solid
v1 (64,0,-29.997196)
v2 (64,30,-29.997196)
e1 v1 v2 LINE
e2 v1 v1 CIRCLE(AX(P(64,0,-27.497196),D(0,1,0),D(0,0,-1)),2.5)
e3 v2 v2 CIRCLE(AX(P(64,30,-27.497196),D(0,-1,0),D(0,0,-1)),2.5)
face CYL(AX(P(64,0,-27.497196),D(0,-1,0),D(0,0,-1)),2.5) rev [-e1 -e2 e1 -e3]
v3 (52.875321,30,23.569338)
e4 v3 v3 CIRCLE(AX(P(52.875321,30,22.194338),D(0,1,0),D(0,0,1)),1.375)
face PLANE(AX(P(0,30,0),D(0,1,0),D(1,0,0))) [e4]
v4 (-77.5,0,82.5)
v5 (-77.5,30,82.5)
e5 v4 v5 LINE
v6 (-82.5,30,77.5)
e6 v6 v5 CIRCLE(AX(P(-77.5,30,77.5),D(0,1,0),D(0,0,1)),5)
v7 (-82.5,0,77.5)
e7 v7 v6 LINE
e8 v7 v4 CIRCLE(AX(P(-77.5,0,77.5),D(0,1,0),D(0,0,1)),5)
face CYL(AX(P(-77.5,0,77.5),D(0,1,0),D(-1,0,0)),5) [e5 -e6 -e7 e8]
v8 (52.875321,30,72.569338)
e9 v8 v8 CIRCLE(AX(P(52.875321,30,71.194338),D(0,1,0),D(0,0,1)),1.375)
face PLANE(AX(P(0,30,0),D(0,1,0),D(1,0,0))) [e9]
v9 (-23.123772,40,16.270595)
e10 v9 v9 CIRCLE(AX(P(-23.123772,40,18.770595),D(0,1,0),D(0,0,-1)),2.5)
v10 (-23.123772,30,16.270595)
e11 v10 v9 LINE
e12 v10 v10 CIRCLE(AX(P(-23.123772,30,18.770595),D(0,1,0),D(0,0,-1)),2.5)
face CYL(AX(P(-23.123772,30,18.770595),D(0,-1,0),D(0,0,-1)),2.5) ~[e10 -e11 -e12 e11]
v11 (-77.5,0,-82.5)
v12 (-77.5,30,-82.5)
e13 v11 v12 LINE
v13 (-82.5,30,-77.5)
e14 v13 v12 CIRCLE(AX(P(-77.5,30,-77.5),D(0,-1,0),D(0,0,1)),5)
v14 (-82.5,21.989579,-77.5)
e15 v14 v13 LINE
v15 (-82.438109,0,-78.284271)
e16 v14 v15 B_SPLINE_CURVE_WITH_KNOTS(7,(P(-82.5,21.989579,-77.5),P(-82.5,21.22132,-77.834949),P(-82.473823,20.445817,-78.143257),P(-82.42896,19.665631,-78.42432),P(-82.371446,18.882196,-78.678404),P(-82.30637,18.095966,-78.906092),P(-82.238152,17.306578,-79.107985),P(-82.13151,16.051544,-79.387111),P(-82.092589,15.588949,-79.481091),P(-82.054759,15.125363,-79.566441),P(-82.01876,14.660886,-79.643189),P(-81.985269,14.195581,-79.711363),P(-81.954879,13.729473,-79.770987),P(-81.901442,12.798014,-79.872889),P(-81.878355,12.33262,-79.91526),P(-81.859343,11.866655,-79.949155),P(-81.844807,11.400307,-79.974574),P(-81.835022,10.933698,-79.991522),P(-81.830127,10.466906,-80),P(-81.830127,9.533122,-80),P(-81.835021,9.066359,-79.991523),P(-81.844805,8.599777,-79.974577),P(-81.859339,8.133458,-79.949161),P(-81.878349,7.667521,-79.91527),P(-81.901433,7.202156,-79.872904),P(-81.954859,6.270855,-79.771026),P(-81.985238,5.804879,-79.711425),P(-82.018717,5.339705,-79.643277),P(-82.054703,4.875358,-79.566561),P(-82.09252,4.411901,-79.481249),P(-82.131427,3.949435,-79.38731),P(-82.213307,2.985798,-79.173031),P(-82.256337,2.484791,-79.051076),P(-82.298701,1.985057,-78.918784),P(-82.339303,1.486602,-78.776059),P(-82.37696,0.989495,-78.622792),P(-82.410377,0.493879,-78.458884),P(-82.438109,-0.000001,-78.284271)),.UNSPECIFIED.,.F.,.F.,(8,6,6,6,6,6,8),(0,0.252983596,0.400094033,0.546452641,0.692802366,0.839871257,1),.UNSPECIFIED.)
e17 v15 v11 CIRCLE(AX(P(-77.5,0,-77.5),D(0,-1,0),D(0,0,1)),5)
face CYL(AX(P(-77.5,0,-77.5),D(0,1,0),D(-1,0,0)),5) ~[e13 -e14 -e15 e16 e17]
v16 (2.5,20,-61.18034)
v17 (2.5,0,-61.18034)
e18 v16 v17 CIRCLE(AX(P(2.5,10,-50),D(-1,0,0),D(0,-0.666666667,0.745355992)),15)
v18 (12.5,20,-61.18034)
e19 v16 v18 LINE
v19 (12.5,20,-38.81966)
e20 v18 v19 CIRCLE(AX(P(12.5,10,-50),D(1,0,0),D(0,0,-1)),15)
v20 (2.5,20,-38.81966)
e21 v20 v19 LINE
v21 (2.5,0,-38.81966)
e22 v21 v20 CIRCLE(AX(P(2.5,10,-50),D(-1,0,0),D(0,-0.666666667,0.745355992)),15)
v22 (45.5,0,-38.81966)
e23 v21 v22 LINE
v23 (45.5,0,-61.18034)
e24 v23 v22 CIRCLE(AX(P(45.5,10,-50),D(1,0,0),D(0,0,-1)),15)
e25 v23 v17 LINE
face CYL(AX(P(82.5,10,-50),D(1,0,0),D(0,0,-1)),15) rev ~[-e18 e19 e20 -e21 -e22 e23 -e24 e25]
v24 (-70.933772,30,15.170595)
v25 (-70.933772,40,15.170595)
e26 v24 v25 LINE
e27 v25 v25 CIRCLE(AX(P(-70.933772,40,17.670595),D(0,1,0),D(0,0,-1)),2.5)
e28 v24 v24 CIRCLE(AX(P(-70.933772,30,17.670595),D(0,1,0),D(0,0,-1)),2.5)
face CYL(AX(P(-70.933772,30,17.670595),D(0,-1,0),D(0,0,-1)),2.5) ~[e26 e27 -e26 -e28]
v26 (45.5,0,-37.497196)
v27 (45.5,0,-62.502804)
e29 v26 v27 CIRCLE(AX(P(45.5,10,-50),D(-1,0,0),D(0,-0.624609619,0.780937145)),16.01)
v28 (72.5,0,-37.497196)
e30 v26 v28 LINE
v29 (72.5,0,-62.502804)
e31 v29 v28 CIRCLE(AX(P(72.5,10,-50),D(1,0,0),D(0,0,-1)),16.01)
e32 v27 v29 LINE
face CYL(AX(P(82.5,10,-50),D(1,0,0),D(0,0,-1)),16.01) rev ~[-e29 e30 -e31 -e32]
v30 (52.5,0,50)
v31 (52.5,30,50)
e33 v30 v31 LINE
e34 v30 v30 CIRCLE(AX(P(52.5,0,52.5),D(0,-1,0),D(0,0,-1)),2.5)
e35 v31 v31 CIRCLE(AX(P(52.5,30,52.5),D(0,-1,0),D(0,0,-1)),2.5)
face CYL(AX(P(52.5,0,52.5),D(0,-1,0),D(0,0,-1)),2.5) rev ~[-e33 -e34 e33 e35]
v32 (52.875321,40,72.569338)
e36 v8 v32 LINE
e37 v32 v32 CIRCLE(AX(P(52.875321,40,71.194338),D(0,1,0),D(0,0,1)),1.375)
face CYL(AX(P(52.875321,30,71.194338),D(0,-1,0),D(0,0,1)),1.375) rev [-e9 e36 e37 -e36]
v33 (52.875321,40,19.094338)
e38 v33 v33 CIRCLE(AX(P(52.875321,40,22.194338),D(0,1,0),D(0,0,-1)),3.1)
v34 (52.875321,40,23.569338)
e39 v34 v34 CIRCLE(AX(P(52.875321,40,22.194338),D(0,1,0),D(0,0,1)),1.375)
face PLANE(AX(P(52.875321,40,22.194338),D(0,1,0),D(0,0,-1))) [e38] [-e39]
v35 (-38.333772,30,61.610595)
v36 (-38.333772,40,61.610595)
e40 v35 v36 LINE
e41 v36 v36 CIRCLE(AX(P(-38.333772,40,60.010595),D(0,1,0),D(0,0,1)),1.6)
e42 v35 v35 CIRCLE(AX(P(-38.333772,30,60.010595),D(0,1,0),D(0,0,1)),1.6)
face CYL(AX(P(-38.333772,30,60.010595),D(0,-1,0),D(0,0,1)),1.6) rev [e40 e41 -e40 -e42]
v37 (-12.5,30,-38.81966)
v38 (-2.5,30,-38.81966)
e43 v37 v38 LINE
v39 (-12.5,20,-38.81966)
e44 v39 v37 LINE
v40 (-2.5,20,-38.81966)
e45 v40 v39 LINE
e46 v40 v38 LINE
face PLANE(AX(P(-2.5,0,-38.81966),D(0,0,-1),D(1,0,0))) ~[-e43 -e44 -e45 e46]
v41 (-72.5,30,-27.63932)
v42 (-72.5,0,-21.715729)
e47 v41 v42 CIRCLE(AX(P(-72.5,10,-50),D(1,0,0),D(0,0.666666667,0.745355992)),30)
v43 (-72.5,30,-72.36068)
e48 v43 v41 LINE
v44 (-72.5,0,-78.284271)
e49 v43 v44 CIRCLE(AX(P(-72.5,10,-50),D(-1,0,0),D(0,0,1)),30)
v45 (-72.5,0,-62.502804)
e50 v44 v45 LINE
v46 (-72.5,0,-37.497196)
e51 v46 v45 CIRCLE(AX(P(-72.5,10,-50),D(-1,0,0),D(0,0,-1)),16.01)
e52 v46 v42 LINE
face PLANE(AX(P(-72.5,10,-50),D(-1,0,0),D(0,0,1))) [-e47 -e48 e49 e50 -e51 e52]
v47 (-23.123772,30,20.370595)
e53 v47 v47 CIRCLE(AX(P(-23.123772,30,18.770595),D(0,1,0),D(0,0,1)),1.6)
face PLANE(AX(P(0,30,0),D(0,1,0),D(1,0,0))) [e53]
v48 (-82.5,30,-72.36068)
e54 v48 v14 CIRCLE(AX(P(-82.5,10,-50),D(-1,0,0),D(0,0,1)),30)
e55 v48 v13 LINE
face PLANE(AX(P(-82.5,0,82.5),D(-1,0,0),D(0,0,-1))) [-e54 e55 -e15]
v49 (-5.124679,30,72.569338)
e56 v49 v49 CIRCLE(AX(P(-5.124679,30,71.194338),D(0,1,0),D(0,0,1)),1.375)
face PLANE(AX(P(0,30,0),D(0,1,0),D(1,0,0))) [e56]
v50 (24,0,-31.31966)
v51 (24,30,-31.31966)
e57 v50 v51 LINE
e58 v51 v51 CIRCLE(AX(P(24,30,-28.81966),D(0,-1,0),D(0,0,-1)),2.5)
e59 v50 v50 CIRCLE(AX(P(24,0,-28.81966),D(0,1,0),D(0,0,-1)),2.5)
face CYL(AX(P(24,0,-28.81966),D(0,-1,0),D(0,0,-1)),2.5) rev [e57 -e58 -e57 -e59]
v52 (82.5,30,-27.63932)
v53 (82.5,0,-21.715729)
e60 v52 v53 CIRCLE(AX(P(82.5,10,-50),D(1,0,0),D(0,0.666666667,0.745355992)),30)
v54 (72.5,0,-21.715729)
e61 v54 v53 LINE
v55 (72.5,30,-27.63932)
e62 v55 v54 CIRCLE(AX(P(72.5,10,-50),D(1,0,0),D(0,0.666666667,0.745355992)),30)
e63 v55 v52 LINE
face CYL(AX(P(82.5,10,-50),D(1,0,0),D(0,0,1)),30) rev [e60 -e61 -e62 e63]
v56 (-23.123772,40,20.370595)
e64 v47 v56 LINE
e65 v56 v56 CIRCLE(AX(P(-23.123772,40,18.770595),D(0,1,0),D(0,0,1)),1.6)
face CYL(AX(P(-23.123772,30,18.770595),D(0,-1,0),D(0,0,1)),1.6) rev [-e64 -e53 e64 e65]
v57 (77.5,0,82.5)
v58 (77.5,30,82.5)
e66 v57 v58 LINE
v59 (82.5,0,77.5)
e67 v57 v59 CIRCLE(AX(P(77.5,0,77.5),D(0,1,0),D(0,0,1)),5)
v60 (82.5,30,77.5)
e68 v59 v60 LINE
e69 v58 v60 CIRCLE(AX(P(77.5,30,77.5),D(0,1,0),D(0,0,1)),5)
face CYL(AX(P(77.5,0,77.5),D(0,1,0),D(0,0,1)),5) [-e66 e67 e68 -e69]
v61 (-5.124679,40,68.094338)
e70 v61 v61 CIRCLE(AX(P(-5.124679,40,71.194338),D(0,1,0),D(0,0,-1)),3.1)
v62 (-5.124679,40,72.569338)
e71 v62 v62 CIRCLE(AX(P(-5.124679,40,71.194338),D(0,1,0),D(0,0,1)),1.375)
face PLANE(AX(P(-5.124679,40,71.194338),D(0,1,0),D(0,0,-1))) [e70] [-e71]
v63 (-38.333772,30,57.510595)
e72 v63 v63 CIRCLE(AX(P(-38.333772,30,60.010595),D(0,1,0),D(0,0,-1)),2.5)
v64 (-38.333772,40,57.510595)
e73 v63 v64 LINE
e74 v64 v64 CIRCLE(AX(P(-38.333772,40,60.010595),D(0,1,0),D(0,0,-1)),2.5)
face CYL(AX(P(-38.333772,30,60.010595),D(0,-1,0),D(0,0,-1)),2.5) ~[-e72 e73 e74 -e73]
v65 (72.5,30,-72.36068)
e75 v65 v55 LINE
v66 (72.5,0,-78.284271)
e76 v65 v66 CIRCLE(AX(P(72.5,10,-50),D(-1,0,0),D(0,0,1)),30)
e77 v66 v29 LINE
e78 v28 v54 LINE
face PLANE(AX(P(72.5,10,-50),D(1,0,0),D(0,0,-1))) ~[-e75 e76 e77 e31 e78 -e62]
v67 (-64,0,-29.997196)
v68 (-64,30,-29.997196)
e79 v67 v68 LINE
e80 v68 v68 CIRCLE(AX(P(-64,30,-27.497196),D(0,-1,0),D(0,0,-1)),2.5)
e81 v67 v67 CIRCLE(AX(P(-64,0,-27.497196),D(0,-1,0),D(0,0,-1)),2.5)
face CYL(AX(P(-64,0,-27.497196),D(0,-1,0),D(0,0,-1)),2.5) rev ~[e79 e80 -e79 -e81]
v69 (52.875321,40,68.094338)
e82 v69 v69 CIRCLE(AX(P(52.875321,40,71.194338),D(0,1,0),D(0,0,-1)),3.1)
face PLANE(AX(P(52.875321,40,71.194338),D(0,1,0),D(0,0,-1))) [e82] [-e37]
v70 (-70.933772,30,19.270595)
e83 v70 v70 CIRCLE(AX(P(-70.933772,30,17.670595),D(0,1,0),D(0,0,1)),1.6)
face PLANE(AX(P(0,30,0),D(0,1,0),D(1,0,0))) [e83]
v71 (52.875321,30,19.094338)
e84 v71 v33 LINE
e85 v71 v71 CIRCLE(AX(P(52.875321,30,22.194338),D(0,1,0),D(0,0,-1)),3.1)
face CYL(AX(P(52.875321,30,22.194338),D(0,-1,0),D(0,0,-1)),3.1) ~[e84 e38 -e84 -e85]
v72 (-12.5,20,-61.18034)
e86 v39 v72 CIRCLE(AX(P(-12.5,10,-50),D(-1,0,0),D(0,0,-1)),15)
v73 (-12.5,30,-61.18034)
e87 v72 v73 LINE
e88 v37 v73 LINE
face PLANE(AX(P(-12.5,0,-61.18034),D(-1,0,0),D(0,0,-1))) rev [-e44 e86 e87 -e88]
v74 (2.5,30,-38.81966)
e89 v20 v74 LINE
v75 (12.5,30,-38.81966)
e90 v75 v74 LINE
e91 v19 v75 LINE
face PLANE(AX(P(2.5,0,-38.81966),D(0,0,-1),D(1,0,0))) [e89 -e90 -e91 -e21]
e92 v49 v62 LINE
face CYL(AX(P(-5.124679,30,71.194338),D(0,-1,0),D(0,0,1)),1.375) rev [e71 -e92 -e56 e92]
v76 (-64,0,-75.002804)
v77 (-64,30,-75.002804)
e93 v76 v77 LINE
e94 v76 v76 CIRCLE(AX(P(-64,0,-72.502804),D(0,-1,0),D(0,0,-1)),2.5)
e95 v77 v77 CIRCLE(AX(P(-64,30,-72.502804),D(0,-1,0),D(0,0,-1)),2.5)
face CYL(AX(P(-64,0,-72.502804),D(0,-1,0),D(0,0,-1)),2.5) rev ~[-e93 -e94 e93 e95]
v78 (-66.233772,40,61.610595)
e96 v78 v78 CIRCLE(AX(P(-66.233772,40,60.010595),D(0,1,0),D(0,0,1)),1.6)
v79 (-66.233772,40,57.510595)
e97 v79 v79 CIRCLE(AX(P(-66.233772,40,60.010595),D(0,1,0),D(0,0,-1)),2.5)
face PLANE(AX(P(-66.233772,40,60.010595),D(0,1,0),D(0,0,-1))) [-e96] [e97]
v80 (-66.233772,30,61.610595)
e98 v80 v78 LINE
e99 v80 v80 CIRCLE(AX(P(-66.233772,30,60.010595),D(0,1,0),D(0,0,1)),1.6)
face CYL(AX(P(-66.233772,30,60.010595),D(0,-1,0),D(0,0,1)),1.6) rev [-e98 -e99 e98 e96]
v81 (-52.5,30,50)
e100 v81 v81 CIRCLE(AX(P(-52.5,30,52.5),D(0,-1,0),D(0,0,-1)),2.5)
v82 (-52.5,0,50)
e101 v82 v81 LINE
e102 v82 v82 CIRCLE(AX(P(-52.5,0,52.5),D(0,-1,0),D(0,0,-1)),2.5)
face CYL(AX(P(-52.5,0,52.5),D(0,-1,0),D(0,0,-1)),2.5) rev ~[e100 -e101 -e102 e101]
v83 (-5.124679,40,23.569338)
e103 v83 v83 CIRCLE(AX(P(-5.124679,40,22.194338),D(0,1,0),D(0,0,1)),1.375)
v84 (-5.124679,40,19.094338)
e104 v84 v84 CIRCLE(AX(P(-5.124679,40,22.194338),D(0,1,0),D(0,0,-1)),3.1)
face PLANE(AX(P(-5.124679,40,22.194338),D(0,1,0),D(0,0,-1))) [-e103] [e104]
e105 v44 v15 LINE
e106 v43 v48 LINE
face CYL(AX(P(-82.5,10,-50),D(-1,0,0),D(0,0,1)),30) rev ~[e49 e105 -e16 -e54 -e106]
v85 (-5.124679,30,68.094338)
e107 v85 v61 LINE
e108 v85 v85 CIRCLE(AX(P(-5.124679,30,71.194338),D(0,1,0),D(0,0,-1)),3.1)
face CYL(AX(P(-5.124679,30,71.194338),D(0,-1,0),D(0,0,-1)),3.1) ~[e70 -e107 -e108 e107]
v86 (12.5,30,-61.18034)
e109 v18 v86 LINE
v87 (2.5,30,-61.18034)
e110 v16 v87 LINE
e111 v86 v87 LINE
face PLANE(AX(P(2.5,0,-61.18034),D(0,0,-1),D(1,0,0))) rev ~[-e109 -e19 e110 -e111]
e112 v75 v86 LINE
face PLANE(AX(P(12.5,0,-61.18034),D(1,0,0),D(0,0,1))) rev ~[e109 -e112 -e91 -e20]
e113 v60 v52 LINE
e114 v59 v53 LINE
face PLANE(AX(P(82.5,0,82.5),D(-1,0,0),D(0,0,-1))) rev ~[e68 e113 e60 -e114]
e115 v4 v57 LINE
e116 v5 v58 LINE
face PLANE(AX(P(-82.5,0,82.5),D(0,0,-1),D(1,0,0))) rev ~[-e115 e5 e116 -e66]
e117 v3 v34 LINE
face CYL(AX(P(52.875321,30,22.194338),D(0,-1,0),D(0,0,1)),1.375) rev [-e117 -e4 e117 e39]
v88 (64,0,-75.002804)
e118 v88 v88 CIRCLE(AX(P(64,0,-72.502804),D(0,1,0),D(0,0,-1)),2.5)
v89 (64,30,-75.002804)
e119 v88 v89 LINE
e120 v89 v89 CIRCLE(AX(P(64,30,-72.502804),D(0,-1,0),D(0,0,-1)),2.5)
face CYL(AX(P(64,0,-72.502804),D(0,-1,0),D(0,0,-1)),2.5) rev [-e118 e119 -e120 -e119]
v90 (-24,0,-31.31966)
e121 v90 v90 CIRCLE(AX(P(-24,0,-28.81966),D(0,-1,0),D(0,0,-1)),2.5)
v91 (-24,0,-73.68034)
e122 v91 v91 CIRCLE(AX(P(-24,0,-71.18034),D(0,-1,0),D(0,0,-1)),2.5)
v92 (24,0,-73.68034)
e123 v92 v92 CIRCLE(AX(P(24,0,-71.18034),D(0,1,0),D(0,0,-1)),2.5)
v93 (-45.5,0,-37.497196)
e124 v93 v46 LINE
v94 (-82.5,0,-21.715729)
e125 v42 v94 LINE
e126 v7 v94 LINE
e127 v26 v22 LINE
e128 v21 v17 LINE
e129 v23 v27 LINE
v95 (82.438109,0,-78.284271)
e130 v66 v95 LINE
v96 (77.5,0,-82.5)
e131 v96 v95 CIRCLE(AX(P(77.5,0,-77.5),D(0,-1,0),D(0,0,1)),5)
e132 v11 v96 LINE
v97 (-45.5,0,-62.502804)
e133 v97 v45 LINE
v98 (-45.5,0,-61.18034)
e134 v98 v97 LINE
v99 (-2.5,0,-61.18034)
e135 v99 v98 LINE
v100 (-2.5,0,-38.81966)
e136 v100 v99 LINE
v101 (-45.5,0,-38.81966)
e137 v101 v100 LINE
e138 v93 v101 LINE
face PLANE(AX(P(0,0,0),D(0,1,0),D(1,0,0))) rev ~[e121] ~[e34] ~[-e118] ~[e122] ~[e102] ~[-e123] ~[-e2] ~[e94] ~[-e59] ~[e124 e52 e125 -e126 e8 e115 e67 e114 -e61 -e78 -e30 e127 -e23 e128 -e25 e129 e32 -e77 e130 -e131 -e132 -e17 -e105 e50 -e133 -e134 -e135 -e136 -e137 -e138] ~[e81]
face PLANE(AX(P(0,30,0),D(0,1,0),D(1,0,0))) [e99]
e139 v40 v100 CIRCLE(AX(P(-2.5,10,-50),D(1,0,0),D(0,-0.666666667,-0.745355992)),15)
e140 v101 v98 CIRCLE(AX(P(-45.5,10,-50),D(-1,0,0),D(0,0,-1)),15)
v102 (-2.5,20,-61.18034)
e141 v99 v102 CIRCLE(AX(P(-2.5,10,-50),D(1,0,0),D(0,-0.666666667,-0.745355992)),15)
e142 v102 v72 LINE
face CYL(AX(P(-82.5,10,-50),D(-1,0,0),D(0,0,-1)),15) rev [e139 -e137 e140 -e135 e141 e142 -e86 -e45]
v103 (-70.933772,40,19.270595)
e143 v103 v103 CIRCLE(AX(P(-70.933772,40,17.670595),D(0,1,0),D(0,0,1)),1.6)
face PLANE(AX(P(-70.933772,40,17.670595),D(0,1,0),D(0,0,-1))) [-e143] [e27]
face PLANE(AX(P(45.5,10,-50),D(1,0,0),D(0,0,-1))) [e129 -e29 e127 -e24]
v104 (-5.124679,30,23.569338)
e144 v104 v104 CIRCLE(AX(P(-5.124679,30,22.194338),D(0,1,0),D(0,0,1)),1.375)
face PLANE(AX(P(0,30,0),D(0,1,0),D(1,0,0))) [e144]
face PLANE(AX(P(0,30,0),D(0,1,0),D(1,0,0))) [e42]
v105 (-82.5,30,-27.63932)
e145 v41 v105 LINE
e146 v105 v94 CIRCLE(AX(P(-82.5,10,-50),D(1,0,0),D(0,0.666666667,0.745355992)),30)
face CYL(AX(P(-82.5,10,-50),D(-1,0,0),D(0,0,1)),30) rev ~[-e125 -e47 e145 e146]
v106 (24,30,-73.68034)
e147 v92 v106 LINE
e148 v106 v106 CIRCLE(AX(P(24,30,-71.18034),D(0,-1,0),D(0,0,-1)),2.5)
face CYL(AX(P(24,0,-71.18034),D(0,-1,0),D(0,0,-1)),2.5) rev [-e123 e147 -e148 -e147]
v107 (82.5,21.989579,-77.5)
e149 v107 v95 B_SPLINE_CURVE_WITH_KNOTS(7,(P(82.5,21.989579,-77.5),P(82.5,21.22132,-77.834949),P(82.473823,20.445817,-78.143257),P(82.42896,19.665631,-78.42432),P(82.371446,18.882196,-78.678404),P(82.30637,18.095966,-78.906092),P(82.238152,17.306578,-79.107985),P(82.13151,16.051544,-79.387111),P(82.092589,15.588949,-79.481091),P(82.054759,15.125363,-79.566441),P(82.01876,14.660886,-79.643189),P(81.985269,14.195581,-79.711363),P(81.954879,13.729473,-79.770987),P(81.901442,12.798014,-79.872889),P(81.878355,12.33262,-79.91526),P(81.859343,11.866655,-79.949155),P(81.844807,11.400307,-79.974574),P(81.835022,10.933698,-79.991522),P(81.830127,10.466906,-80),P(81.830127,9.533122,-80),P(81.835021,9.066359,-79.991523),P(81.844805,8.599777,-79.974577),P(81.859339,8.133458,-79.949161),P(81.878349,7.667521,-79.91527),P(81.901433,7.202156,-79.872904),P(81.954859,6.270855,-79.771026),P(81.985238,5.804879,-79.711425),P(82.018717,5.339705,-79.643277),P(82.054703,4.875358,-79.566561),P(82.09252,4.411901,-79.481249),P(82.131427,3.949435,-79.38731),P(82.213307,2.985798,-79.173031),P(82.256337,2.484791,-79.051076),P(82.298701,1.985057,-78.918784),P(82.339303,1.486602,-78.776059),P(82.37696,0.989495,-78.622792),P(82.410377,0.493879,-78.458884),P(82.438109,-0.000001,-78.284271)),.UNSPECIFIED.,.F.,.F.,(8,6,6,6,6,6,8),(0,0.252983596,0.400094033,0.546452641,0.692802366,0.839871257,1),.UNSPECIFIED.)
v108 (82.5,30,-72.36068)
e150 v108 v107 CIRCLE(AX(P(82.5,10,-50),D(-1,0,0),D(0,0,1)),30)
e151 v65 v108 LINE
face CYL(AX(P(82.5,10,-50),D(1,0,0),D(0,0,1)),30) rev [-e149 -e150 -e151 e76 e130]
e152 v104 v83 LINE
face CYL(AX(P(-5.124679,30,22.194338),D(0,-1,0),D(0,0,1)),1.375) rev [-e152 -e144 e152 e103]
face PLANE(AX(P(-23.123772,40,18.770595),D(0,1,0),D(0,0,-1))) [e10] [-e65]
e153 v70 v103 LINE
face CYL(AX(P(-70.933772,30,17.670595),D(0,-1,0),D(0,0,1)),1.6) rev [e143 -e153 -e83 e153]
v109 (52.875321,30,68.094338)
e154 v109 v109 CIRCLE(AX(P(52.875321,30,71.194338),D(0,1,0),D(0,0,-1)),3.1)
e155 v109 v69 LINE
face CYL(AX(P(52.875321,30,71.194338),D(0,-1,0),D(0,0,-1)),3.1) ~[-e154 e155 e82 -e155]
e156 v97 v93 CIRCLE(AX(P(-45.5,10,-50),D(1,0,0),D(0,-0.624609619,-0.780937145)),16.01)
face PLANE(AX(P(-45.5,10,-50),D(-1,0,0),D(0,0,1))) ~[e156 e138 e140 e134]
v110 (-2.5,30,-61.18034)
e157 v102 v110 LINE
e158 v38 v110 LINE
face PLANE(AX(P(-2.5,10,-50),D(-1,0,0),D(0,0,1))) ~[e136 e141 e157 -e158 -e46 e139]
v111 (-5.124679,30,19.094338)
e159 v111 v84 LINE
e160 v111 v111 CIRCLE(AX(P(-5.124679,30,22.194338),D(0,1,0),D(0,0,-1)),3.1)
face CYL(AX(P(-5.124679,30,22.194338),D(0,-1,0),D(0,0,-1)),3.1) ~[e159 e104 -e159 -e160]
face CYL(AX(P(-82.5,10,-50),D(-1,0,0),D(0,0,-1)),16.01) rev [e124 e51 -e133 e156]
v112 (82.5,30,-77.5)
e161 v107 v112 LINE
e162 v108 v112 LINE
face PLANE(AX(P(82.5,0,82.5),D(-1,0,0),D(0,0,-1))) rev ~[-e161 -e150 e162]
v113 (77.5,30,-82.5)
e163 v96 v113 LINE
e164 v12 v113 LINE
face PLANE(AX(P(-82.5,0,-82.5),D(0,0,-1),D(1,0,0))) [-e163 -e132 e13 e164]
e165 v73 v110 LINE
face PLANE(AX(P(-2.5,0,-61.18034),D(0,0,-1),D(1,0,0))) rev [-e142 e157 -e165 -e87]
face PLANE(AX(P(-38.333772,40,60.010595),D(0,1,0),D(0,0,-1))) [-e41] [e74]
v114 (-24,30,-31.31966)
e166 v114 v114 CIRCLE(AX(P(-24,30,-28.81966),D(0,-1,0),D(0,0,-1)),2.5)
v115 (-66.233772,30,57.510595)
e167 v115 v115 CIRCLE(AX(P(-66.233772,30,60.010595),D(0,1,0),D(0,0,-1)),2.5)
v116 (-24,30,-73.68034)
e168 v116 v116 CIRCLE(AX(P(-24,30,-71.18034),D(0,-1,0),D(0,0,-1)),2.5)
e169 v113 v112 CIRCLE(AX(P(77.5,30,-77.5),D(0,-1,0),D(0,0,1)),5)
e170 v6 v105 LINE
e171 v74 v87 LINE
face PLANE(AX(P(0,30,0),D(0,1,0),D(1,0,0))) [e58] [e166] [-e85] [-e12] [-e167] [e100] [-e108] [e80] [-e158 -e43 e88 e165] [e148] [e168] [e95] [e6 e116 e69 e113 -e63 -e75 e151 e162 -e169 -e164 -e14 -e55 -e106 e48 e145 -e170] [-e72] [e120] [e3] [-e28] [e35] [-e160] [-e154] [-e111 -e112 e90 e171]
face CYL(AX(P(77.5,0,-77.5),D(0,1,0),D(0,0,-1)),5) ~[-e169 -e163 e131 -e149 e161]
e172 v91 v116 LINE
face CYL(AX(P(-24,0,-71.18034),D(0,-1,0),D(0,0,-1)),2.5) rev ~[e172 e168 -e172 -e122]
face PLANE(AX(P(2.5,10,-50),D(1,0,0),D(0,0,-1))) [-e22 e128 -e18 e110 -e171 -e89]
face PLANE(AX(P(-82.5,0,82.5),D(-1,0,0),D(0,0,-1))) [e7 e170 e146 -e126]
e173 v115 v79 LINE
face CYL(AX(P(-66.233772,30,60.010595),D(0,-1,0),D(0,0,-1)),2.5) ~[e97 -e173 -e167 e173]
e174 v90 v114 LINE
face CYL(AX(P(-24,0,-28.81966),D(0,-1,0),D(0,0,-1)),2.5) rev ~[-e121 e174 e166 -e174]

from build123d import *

# Parameters (mm, degrees)
ESQUISSE2_W           = 165
ESQUISSE2_H           = 165
BASE_DEPTH            = 30
ESQUISSE3_R           = 15
BLOC_MOTEUR_1_DEPTH   = 80
ESQUISSE4_W           = 10
ESQUISSE4_H           = 22.360679774
ACCES_MOTEUR_DEPTH    = 37
ESQUISSE6_R           = 16.01
BLOC_MOTEUR_2_DEPTH   = 37
ESQUISSE7_R           = 2.5
VIS_MOTEUR_DEPTH      = 121.467838032
ESQUISSE8_R           = 2.5
VIS_PATIN_DEPTH       = 121.467838032
ESQUISSE9_R           = 3.1
ESQUISSE9_R_2         = 1.375
SUPPORT_RASP_DEPTH    = 10
ESQUISSE11_R          = 2.5
ESQUISSE11_R_2        = 1.6
SUPPORT_ARDUINO_DEPTH = 10
CONGE_EXT_R           = 5
ESQUISSE12_R          = 30
ESPACE_ROUE_DEPTH     = 10


with BuildPart() as part:
    # Esquisse2 → BASE (new body)
    with BuildSketch(Plane(origin=(0, 0, 0), x_dir=(1, 0, 0), z_dir=(0, 1, 0))):
        Rectangle(ESQUISSE2_W, ESQUISSE2_H)
    extrude(amount=BASE_DEPTH)

    # Esquisse3 → BLOC MOTEUR 1. (cut)
    with BuildSketch(Plane(origin=(82.5, 0, 0), x_dir=(0, 0, -1), z_dir=(1, 0, 0))):
        with Locations((50, 10)):
            Circle(ESQUISSE3_R)
    bloc_moteur_1 = extrude(amount=-BLOC_MOTEUR_1_DEPTH, mode=Mode.SUBTRACT)

    # Esquisse4 → ACCES MOTEUR (cut)
    with BuildSketch(Plane.XZ):
        with Locations((7.5, -50)):
            Rectangle(ESQUISSE4_W, ESQUISSE4_H)
    acces_moteur = extrude(amount=-ACCES_MOTEUR_DEPTH, mode=Mode.SUBTRACT)

    # Esquisse6 → BLOC MOTEUR 2 (cut)
    with BuildSketch(Plane(origin=(82.5, 0, 0), x_dir=(0, 0, -1), z_dir=(1, 0, 0))):
        with Locations((50, 10)):
            Circle(ESQUISSE6_R)
    bloc_moteur_2 = extrude(amount=-BLOC_MOTEUR_2_DEPTH, mode=Mode.SUBTRACT)

    # SYM BLOC MOTEUR: BLOC MOTEUR 1., ACCES MOTEUR, BLOC MOTEUR 2 across plane
    add(bloc_moteur_1.mirror(Plane(origin=(0, 0, 0), x_dir=(0, 0, 1), z_dir=(1, 0, 0))), mode=Mode.SUBTRACT)
    add(acces_moteur.mirror(Plane(origin=(0, 0, 0), x_dir=(0, 0, 1), z_dir=(1, 0, 0))), mode=Mode.SUBTRACT)
    add(bloc_moteur_2.mirror(Plane(origin=(0, 0, 0), x_dir=(0, 0, 1), z_dir=(1, 0, 0))), mode=Mode.SUBTRACT)

    # Esquisse7 → VIS MOTEUR (cut, through all)
    with BuildSketch(Plane.XZ):
        with Locations(Location((-64, -27.497196314, 0), (0, 0, 270))):
            Circle(ESQUISSE7_R)
        with Locations(Location((-24, -28.819660113, 0), (0, 0, 270))):
            Circle(ESQUISSE7_R)
        with Locations(Location((-24, -71.180339887, 0), (0, 0, 270))):
            Circle(ESQUISSE7_R)
        with Locations(Location((-64, -72.502803686, 0), (0, 0, 270))):
            Circle(ESQUISSE7_R)
    vis_moteur = extrude(amount=-VIS_MOTEUR_DEPTH, mode=Mode.SUBTRACT)

    # SYM VIS: VIS MOTEUR across plane
    add(vis_moteur.mirror(Plane(origin=(0, 0, 0), x_dir=(0, 0, 1), z_dir=(1, 0, 0))), mode=Mode.SUBTRACT)

    # Esquisse8 → VIS PATIN (cut, through all)
    with BuildSketch(Plane.XZ):
        with Locations(Location((-52.5, 52.5, 0), (0, 0, 270))):
            Circle(ESQUISSE8_R)
        with Locations(Location((52.5, 52.5, 0), (0, 0, 270))):
            Circle(ESQUISSE8_R)
    extrude(amount=-VIS_PATIN_DEPTH, mode=Mode.SUBTRACT)

    # Esquisse9 → SUPPORT RASP (add)
    # profile 1 of 4: a face of its own
    with BuildSketch(Plane(origin=(0, 30, 0), x_dir=(1, 0, 0), z_dir=(0, 1, 0))):
        with Locations(Location((-5.124679211, -22.194338496, 0), (0, 0, 90))):
            Circle(ESQUISSE9_R)
        with Locations(Location((-5.124679211, -22.194338496, 0), (0, 0, 270))):
            Circle(ESQUISSE9_R_2, mode=Mode.SUBTRACT)
    # profile 2 of 4: a face of its own
    with BuildSketch(Plane(origin=(0, 30, 0), x_dir=(1, 0, 0), z_dir=(0, 1, 0))):
        with Locations(Location((52.875320789, -22.194338496, 0), (0, 0, 90))):
            Circle(ESQUISSE9_R)
        with Locations(Location((52.875320789, -22.194338496, 0), (0, 0, 270))):
            Circle(ESQUISSE9_R_2, mode=Mode.SUBTRACT)
    # profile 3 of 4: a face of its own
    with BuildSketch(Plane(origin=(0, 30, 0), x_dir=(1, 0, 0), z_dir=(0, 1, 0))):
        with Locations(Location((-5.124679211, -71.194338496, 0), (0, 0, 90))):
            Circle(ESQUISSE9_R)
        with Locations(Location((-5.124679211, -71.194338496, 0), (0, 0, 270))):
            Circle(ESQUISSE9_R_2, mode=Mode.SUBTRACT)
    # profile 4 of 4: a face of its own
    with BuildSketch(Plane(origin=(0, 30, 0), x_dir=(1, 0, 0), z_dir=(0, 1, 0))):
        with Locations(Location((52.875320789, -71.194338496, 0), (0, 0, 90))):
            Circle(ESQUISSE9_R)
        with Locations(Location((52.875320789, -71.194338496, 0), (0, 0, 270))):
            Circle(ESQUISSE9_R_2, mode=Mode.SUBTRACT)
    extrude(amount=SUPPORT_RASP_DEPTH)

    # Esquisse11 → SUPPORT ARDUINO (add)
    # profile 1 of 4: a face of its own
    with BuildSketch(Plane(origin=(0, 30, 0), x_dir=(1, 0, 0), z_dir=(0, 1, 0))):
        with Locations(Location((-70.933772323, -17.670594659, 0), (0, 0, 90))):
            Circle(ESQUISSE11_R)
        with Locations(Location((-70.933772323, -17.670594659, 0), (0, 0, 270))):
            Circle(ESQUISSE11_R_2, mode=Mode.SUBTRACT)
    # profile 2 of 4: a face of its own
    with BuildSketch(Plane(origin=(0, 30, 0), x_dir=(1, 0, 0), z_dir=(0, 1, 0))):
        with Locations(Location((-23.123772323, -18.770594659, 0), (0, 0, 90))):
            Circle(ESQUISSE11_R)
        with Locations(Location((-23.123772323, -18.770594659, 0), (0, 0, 270))):
            Circle(ESQUISSE11_R_2, mode=Mode.SUBTRACT)
    # profile 3 of 4: a face of its own
    with BuildSketch(Plane(origin=(0, 30, 0), x_dir=(1, 0, 0), z_dir=(0, 1, 0))):
        with Locations(Location((-66.233772323, -60.010594659, 0), (0, 0, 90))):
            Circle(ESQUISSE11_R)
        with Locations(Location((-66.233772323, -60.010594659, 0), (0, 0, 270))):
            Circle(ESQUISSE11_R_2, mode=Mode.SUBTRACT)
    # profile 4 of 4: a face of its own
    with BuildSketch(Plane(origin=(0, 30, 0), x_dir=(1, 0, 0), z_dir=(0, 1, 0))):
        with Locations(Location((-38.333772323, -60.010594659, 0), (0, 0, 90))):
            Circle(ESQUISSE11_R)
        with Locations(Location((-38.333772323, -60.010594659, 0), (0, 0, 270))):
            Circle(ESQUISSE11_R_2, mode=Mode.SUBTRACT)
    extrude(amount=SUPPORT_ARDUINO_DEPTH)

    # CONGE EXT
    conge_ext_edges = [part.edges().sort_by_distance(p)[0] for p in [
        (-82.5, 15, -82.5),
        (82.5, 15, -82.5),
        (82.5, 15, 82.5),
        (-82.5, 15, 82.5),
    ]]
    fillet(conge_ext_edges, radius=CONGE_EXT_R)

    # Esquisse12 → ESPACE ROUE (cut)
    with BuildSketch(Plane.ZY.offset(82.5)):
        with Locations((-50, 10)):
            Circle(ESQUISSE12_R)
    espace_roue = extrude(amount=-ESPACE_ROUE_DEPTH, mode=Mode.SUBTRACT)

    # SYM ESPACE ROUE: ESPACE ROUE across plane
    add(espace_roue.mirror(Plane(origin=(0, 0, 0), x_dir=(0, 0, 1), z_dir=(1, 0, 0))), mode=Mode.SUBTRACT)


solid = part.part
